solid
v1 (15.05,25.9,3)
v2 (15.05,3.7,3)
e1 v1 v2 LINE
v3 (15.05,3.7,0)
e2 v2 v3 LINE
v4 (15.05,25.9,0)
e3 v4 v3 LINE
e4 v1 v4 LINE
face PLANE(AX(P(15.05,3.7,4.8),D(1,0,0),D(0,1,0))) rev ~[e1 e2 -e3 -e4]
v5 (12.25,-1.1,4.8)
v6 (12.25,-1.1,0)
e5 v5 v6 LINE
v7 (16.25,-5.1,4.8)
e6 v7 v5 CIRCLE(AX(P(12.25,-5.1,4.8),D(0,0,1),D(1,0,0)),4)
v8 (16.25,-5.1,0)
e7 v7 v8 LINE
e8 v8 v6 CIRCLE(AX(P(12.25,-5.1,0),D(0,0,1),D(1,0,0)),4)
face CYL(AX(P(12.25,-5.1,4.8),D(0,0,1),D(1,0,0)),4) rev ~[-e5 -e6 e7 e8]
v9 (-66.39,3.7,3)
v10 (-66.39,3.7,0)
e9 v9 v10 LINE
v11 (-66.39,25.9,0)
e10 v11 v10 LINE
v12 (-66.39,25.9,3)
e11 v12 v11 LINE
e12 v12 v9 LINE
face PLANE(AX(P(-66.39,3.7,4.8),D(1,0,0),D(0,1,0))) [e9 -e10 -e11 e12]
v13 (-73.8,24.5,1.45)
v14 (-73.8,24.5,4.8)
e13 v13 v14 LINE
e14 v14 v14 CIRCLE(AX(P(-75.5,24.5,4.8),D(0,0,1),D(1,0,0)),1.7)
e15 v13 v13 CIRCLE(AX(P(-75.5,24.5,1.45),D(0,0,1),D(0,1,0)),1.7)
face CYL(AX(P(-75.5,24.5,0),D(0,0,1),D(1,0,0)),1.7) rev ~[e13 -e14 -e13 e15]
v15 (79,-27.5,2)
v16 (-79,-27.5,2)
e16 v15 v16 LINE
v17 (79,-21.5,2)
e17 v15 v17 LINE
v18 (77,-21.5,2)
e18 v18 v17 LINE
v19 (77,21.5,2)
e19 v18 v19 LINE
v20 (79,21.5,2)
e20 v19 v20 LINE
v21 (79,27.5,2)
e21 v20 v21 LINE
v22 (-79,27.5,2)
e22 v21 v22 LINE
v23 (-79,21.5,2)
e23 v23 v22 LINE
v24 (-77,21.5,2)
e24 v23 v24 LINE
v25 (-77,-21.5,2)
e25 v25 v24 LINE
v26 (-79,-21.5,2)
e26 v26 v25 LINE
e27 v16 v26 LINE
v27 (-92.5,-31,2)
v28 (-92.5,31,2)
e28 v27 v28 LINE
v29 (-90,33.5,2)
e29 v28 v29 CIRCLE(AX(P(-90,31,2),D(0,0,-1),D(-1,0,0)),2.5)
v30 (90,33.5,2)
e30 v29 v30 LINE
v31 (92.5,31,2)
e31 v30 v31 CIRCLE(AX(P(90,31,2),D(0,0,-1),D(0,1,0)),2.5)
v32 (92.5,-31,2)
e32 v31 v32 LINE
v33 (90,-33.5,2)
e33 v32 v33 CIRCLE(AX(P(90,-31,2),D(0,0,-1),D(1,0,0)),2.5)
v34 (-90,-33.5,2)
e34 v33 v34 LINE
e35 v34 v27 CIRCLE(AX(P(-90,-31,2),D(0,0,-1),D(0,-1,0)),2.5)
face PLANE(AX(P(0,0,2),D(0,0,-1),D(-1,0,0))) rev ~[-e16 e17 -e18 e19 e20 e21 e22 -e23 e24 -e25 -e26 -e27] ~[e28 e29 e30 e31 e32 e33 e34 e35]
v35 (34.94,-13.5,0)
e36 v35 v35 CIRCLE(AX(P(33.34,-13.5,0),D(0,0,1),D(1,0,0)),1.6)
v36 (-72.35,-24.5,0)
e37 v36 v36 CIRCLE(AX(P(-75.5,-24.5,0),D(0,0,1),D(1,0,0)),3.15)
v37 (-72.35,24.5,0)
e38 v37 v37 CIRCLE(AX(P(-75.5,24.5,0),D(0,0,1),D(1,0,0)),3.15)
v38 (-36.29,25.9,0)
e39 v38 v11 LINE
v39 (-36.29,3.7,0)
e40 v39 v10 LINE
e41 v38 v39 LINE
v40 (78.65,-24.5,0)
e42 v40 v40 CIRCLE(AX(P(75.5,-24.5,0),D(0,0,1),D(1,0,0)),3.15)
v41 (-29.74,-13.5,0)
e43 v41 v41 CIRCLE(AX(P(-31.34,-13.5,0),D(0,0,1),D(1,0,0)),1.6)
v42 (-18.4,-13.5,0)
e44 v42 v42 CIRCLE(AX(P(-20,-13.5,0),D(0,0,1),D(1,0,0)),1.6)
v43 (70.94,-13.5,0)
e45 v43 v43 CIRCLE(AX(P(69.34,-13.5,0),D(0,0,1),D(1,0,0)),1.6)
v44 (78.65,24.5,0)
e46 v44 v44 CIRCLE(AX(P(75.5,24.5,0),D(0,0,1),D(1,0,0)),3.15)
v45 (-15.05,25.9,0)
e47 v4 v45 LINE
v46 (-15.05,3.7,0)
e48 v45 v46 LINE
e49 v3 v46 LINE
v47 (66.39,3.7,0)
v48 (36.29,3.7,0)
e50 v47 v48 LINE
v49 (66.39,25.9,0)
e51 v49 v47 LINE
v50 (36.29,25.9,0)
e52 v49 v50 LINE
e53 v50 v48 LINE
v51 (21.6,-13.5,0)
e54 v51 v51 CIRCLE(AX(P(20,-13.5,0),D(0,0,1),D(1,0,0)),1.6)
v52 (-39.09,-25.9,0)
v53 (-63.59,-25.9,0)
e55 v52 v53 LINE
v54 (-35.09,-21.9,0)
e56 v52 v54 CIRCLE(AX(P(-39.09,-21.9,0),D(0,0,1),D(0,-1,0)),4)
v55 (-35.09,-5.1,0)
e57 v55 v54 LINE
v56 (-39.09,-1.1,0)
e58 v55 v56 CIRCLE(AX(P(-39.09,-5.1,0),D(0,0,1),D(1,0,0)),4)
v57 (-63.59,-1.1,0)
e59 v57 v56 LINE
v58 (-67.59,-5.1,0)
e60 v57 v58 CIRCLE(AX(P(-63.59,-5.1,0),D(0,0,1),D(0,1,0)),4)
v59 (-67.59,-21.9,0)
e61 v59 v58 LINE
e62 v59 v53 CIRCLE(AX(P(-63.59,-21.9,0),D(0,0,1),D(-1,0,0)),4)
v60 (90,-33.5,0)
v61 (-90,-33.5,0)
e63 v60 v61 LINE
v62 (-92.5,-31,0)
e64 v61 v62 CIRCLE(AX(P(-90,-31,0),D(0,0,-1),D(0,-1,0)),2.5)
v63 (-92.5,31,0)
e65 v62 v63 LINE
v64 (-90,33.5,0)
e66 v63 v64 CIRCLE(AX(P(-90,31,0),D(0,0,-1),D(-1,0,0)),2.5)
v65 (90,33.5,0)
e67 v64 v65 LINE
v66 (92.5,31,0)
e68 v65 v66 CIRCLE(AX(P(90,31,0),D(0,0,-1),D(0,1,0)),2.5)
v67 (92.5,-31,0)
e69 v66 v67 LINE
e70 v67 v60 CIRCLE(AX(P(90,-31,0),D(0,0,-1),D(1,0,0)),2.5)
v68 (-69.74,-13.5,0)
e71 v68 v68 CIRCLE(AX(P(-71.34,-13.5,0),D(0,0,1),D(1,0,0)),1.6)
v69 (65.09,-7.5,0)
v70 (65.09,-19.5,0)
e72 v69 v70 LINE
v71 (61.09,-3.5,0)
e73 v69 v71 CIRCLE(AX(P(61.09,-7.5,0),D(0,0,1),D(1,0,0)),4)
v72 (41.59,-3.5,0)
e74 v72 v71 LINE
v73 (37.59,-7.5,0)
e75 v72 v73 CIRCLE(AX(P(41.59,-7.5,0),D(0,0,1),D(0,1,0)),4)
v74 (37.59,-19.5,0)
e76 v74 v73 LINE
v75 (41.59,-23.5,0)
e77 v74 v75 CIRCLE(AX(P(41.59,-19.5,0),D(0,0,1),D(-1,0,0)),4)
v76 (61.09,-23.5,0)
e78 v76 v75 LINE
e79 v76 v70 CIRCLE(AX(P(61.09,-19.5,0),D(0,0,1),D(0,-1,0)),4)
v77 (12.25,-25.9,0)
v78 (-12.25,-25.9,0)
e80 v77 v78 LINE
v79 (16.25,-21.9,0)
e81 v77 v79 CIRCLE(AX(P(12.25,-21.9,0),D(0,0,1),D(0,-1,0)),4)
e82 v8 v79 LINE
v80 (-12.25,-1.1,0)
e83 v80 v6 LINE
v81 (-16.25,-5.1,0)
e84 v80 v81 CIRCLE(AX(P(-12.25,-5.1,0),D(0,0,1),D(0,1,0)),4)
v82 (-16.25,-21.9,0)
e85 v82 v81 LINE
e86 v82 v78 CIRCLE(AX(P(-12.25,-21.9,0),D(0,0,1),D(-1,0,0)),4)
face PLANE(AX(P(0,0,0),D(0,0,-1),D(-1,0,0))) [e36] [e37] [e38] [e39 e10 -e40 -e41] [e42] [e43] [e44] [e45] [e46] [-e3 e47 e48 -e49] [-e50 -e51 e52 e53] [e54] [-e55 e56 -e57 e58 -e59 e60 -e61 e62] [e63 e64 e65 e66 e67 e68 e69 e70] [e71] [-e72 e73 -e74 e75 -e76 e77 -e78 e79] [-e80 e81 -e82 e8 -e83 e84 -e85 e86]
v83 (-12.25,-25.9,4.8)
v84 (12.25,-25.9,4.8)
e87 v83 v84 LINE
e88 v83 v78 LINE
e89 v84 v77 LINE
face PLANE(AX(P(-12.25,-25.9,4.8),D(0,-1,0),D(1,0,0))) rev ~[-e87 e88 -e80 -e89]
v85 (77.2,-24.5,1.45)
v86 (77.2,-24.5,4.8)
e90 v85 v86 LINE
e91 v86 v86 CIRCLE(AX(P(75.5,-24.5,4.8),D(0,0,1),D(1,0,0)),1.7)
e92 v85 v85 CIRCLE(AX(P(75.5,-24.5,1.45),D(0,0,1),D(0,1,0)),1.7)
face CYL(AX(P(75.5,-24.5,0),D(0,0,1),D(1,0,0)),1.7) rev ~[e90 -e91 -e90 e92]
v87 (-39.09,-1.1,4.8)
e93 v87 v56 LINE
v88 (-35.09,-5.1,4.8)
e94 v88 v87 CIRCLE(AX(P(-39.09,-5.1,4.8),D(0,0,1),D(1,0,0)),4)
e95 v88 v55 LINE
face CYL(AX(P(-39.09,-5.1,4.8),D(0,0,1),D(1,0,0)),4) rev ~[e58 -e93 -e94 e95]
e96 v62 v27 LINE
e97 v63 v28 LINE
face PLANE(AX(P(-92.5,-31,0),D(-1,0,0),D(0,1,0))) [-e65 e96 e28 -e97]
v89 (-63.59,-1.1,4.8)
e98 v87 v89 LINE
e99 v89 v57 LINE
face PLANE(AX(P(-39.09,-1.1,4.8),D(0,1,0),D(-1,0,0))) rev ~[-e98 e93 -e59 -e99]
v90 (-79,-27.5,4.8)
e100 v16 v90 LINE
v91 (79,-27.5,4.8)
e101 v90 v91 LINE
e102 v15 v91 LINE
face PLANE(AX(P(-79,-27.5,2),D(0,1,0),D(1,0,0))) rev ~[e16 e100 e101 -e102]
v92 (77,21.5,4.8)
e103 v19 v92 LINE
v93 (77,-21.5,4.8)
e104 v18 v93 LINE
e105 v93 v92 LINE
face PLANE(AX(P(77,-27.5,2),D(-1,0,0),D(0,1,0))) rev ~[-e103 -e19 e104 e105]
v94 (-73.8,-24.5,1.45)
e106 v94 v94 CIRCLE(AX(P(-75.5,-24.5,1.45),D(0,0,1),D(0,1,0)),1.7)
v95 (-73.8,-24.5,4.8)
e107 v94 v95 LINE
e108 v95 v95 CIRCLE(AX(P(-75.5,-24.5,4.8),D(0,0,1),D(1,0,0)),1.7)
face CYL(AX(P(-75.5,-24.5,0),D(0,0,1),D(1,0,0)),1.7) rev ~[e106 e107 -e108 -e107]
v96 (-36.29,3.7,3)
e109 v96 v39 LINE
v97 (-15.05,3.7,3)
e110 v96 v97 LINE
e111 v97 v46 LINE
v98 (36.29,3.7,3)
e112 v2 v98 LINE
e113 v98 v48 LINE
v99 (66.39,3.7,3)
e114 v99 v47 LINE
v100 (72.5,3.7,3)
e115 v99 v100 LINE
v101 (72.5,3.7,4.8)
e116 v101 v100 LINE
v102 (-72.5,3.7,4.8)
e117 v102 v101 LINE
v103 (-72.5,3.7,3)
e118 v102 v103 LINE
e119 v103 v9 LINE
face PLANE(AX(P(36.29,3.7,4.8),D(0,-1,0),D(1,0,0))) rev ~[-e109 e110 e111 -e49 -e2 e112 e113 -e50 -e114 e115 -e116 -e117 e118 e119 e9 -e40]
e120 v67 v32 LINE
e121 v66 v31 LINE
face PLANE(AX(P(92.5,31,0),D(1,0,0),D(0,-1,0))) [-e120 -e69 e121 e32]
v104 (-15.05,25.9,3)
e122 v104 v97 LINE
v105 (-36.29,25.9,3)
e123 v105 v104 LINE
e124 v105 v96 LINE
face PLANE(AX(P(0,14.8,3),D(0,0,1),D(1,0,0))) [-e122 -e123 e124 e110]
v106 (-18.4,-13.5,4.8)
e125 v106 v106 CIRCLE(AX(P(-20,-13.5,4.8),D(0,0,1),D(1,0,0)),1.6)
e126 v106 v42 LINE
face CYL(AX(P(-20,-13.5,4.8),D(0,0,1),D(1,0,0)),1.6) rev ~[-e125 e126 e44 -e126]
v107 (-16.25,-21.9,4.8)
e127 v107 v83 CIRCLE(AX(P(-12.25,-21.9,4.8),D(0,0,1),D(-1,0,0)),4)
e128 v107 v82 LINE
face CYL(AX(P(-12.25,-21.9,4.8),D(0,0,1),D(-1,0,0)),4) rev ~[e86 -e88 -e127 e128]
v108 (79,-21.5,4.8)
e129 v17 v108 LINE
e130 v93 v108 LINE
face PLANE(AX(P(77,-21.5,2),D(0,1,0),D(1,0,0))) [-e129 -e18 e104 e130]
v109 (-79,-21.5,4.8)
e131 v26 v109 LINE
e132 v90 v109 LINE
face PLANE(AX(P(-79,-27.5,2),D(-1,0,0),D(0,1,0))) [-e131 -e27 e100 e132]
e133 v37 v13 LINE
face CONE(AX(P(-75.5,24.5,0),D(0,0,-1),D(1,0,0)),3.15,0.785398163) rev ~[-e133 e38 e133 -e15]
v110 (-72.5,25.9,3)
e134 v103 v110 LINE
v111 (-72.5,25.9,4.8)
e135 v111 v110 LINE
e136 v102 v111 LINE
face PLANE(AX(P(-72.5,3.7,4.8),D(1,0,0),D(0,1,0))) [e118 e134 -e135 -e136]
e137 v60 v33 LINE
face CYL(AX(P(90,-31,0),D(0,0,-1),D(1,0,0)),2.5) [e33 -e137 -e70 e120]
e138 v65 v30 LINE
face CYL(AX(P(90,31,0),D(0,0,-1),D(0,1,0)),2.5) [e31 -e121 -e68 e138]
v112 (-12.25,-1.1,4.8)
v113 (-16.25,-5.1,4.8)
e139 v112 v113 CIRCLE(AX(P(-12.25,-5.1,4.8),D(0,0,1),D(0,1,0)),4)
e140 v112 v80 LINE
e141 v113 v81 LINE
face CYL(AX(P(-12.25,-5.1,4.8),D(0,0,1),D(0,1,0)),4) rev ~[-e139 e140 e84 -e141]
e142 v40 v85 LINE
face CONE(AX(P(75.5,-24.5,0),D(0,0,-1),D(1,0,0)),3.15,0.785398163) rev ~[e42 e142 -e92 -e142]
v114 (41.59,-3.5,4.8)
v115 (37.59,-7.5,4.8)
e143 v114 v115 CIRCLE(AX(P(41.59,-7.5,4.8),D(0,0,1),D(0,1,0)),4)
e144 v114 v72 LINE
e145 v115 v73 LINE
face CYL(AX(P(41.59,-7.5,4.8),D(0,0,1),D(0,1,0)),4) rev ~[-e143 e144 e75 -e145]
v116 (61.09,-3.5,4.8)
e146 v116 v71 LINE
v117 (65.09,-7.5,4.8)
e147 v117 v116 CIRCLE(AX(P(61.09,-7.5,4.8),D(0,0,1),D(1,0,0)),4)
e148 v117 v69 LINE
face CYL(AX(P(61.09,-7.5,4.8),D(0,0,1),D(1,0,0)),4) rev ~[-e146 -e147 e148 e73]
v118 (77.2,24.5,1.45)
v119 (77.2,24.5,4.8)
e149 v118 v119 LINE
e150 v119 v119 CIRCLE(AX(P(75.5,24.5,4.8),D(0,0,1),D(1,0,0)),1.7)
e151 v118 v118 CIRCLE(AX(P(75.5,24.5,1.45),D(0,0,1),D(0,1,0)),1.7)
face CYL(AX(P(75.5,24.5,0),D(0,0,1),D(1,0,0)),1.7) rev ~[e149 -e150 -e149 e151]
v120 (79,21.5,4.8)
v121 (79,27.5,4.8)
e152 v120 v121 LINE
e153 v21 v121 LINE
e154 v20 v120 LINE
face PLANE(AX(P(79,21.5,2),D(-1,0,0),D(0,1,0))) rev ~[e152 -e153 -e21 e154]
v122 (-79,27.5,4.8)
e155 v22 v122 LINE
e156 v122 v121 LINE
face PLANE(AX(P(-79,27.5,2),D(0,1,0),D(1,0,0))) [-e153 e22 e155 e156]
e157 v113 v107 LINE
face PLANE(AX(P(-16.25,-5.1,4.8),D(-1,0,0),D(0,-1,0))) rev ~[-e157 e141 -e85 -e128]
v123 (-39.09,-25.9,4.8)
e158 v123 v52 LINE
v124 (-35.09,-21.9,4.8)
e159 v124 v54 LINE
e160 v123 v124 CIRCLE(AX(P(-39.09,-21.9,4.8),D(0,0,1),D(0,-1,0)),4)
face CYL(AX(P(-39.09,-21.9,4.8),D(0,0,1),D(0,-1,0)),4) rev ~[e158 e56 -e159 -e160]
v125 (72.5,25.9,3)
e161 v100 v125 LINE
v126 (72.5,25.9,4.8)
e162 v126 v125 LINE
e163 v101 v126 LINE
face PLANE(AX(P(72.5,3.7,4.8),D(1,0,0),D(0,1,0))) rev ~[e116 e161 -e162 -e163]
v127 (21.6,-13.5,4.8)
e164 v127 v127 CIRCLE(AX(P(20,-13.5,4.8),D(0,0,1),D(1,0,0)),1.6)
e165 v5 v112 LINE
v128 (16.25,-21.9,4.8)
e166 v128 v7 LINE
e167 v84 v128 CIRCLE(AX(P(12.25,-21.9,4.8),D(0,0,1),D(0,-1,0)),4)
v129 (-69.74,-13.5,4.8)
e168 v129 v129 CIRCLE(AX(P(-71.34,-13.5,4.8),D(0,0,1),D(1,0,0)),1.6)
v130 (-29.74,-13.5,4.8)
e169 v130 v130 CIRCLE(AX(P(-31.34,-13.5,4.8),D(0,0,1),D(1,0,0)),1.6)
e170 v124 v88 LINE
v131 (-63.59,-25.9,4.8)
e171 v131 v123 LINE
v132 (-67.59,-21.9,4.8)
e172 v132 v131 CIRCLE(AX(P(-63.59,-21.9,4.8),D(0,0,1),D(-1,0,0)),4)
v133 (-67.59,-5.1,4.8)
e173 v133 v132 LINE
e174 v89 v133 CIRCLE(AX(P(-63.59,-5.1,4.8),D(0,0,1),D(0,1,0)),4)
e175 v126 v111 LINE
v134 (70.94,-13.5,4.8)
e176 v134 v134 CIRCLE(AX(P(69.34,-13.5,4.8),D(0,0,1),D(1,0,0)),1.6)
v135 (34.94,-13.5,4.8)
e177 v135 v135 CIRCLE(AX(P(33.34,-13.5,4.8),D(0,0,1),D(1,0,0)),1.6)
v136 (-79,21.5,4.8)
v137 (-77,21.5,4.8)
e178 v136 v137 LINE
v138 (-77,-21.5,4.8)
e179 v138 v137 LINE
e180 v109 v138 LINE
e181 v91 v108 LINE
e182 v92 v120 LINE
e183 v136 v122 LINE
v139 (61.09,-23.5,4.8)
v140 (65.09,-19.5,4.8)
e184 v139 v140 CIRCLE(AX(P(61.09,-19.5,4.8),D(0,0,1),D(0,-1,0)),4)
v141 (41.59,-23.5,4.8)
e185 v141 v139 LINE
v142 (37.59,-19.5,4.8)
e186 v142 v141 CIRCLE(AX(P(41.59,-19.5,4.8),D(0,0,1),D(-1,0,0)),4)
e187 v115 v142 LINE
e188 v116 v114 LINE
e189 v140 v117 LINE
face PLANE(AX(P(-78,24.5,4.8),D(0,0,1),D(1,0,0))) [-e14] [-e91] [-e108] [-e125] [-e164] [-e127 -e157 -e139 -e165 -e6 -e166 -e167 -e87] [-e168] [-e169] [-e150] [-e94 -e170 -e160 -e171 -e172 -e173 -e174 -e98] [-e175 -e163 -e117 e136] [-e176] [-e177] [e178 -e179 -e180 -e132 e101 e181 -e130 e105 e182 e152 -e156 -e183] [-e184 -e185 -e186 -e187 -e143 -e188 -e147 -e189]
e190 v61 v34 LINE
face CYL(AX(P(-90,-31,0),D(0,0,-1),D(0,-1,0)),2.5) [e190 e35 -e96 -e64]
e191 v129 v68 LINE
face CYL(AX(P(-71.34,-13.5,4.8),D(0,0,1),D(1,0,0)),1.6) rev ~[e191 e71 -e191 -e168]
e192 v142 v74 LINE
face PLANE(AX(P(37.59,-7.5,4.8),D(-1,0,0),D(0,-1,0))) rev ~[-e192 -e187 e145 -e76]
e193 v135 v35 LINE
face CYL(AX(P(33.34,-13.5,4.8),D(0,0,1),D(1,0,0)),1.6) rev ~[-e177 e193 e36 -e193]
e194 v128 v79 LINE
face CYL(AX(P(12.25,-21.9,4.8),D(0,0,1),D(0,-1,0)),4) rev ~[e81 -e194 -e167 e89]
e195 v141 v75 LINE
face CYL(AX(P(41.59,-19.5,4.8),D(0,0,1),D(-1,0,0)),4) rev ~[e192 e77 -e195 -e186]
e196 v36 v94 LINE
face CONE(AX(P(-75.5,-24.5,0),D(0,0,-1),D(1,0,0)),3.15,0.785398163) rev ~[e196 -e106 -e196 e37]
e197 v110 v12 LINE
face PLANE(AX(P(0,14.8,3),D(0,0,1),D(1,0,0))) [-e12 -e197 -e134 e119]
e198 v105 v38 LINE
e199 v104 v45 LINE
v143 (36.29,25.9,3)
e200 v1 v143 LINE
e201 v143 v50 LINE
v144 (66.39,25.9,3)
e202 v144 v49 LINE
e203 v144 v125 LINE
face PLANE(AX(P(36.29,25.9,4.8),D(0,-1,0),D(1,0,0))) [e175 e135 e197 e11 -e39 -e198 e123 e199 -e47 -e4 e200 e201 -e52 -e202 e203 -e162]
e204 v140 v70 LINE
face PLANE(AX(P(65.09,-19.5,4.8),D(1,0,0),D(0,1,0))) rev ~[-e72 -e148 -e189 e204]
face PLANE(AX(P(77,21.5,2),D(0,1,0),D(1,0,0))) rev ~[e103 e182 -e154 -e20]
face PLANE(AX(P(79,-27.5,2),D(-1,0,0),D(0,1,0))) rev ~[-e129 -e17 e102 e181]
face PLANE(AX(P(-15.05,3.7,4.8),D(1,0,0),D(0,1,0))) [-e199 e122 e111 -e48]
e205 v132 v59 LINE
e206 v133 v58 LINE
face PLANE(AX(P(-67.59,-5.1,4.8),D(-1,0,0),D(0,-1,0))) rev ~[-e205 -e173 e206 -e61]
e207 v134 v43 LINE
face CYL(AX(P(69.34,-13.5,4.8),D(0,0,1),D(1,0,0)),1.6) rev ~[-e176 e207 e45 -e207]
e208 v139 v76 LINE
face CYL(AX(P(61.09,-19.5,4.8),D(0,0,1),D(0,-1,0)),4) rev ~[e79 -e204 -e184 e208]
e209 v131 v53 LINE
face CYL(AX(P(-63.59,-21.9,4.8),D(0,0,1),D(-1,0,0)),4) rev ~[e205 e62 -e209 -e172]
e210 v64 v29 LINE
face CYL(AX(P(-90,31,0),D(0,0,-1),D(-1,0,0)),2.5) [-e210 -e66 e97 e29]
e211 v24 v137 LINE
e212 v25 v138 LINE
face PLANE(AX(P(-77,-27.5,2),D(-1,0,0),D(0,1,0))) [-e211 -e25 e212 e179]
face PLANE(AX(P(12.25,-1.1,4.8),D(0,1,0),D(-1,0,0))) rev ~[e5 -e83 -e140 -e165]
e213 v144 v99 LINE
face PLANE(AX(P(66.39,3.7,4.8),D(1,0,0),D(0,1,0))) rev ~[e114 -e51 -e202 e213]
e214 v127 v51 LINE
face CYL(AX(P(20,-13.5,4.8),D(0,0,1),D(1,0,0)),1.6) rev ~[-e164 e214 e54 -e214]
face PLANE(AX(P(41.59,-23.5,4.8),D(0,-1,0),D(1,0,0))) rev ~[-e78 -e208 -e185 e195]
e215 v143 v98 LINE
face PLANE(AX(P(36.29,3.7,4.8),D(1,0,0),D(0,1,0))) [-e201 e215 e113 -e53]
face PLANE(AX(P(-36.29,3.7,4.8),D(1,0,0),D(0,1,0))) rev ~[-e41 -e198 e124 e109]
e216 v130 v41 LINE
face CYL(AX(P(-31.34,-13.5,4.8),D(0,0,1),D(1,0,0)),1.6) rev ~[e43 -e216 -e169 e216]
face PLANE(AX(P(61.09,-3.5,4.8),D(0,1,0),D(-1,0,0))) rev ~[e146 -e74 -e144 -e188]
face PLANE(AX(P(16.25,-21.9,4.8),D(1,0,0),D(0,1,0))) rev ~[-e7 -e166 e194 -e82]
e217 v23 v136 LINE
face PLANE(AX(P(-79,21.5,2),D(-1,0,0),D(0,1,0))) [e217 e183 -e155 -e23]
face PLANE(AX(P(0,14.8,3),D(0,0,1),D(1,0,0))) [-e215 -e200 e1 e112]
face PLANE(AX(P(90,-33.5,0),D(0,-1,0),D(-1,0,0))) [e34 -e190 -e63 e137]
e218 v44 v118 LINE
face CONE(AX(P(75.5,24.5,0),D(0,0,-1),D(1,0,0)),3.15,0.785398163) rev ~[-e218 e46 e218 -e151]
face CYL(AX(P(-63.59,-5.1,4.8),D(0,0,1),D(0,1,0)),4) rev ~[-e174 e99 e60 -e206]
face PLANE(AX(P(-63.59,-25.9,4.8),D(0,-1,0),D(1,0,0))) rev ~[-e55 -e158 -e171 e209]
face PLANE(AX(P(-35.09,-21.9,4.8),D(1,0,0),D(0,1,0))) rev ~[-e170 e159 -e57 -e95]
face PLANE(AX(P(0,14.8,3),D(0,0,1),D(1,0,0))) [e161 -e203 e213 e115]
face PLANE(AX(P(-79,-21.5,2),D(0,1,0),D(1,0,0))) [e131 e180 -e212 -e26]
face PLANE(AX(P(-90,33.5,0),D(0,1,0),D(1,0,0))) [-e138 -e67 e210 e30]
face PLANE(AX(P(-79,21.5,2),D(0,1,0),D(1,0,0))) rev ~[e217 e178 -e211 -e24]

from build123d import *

# Parameters (mm, degrees)
P_IDAT_VYSUNUT_M1_DEPTH                           = 2
SKICA2_W                                          = 154
SKICA2_H                                          = 55
P_IDAT_VYSUNUT_M2_DEPTH                           = 2.8
SKICA3_R                                          = 1.6
SKICA3_W                                          = 30.1
SKICA3_H                                          = 22.2
ODEBRAT_VYSUNUT_M1_DEPTH                          = 5.8
SKICA4_W                                          = 145
SKICA4_H                                          = 22.2
ODEBRAT_VYSUNUT_M2_DEPTH                          = 1.8
SKICA5_W                                          = 2
SKICA5_H                                          = 6
P_IDAT_VYSUNUT_M3_DEPTH                           = 2.8
KU_ELOV_ZAHLOUBEN_PRO_M3_ROUBU_SE_Z_P_D           = 3.4
KU_ELOV_ZAHLOUBEN_PRO_M3_ROUBU_SE_Z_P_CSINK_D     = 6.3
KU_ELOV_ZAHLOUBEN_PRO_M3_ROUBU_SE_Z_P_CSINK_ANGLE = 90


with BuildPart() as part:
    # Skica1 → Přidat vysunutím1 (new body)
    with BuildSketch(Plane.XY):
        with BuildLine():
            Line((-90, 33.5), (90, 33.5))
            ThreePointArc((90, 33.5), (91.767766953, 32.767766953), (92.5, 31))
            Line((92.5, 31), (92.5, -31))
            ThreePointArc((92.5, -31), (91.767766953, -32.767766953), (90, -33.5))
            Line((90, -33.5), (-90, -33.5))
            ThreePointArc((-90, -33.5), (-91.767766953, -32.767766953), (-92.5, -31))
            Line((-92.5, -31), (-92.5, 31))
            ThreePointArc((-92.5, 31), (-91.767766953, 32.767766953), (-90, 33.5))
        make_face()
    extrude(amount=P_IDAT_VYSUNUT_M1_DEPTH)

    # Skica2 → Přidat vysunutím2 (add)
    with BuildSketch(Plane.XY.offset(2)):
        Rectangle(SKICA2_W, SKICA2_H)
    extrude(amount=P_IDAT_VYSUNUT_M2_DEPTH)

    # Skica3 → Odebrat vysunutím1 (cut, through all)
    with BuildSketch(Plane.XY.offset(4.8)):
        with Locations((-20, -13.5)):
            Circle(SKICA3_R)
        with Locations((20, -13.5)):
            Circle(SKICA3_R)
        with Locations((33.34, -13.5)):
            Circle(SKICA3_R)
        with Locations((69.34, -13.5)):
            Circle(SKICA3_R)
        with Locations((-31.34, -13.5)):
            Circle(SKICA3_R)
        with Locations((-71.34, -13.5)):
            Circle(SKICA3_R)
        with BuildLine():
            Line((-39.09, -1.1), (-63.59, -1.1))
            ThreePointArc((-63.59, -1.1), (-66.418427125, -2.271572875), (-67.59, -5.1))
            Line((-67.59, -5.1), (-67.59, -21.9))
            ThreePointArc((-67.59, -21.9), (-66.418427125, -24.728427125), (-63.59, -25.9))
            Line((-63.59, -25.9), (-39.09, -25.9))
            ThreePointArc((-39.09, -25.9), (-36.261572875, -24.728427125), (-35.09, -21.9))
            Line((-35.09, -21.9), (-35.09, -5.1))
            ThreePointArc((-35.09, -5.1), (-36.261572875, -2.271572875), (-39.09, -1.1))
        make_face()
        with BuildLine():
            Line((12.25, -1.1), (-12.25, -1.1))
            ThreePointArc((-12.25, -1.1), (-15.078427125, -2.271572875), (-16.25, -5.1))
            Line((-16.25, -5.1), (-16.25, -21.9))
            ThreePointArc((-16.25, -21.9), (-15.078427125, -24.728427125), (-12.25, -25.9))
            Line((-12.25, -25.9), (12.25, -25.9))
            ThreePointArc((12.25, -25.9), (15.078427125, -24.728427125), (16.25, -21.9))
            Line((16.25, -21.9), (16.25, -5.1))
            ThreePointArc((16.25, -5.1), (15.078427125, -2.271572875), (12.25, -1.1))
        make_face()
        with BuildLine():
            Line((61.09, -3.5), (41.59, -3.5))
            ThreePointArc((41.59, -3.5), (38.761572875, -4.671572875), (37.59, -7.5))
            Line((37.59, -7.5), (37.59, -19.5))
            ThreePointArc((37.59, -19.5), (38.761572875, -22.328427125), (41.59, -23.5))
            Line((41.59, -23.5), (61.09, -23.5))
            ThreePointArc((61.09, -23.5), (63.918427125, -22.328427125), (65.09, -19.5))
            Line((65.09, -19.5), (65.09, -7.5))
            ThreePointArc((65.09, -7.5), (63.918427125, -4.671572875), (61.09, -3.5))
        make_face()
        with Locations((-51.34, 14.8)):
            Rectangle(SKICA3_W, SKICA3_H)
        with Locations((0, 14.8)):
            Rectangle(SKICA3_W, SKICA3_H)
        with Locations((51.34, 14.8)):
            Rectangle(SKICA3_W, SKICA3_H)
    extrude(amount=-ODEBRAT_VYSUNUT_M1_DEPTH, mode=Mode.SUBTRACT)

    # Skica4 → Odebrat vysunutím2 (cut)
    with BuildSketch(Plane.XY.offset(4.8)):
        with Locations((0, 14.8)):
            Rectangle(SKICA4_W, SKICA4_H)
    extrude(amount=-ODEBRAT_VYSUNUT_M2_DEPTH, mode=Mode.SUBTRACT)

    # Skica5 → Přidat vysunutím3 (add)
    with BuildSketch(Plane.XY.offset(2)):
        with Locations((-78, 24.5)):
            Rectangle(SKICA5_W, SKICA5_H)
        with Locations((-78, -24.5)):
            Rectangle(SKICA5_W, SKICA5_H)
        with Locations((78, -24.5)):
            Rectangle(SKICA5_W, SKICA5_H)
        with Locations((78, 24.5)):
            Rectangle(SKICA5_W, SKICA5_H)
    extrude(amount=P_IDAT_VYSUNUT_M3_DEPTH)

    # Kuželové zahloubení pro M3 šroubu se zápustnou hlavou plochou1 (through all)
    with Locations(Plane(origin=(0, 0, 0), x_dir=(-1, 0, 0), z_dir=(0, 0, -1))):
        with Locations((-75.5, -24.5), (-75.5, 24.5), (75.5, 24.5), (75.5, -24.5)):
            CounterSinkHole(KU_ELOV_ZAHLOUBEN_PRO_M3_ROUBU_SE_Z_P_D / 2, KU_ELOV_ZAHLOUBEN_PRO_M3_ROUBU_SE_Z_P_CSINK_D / 2, counter_sink_angle=KU_ELOV_ZAHLOUBEN_PRO_M3_ROUBU_SE_Z_P_CSINK_ANGLE)


solid = part.part
